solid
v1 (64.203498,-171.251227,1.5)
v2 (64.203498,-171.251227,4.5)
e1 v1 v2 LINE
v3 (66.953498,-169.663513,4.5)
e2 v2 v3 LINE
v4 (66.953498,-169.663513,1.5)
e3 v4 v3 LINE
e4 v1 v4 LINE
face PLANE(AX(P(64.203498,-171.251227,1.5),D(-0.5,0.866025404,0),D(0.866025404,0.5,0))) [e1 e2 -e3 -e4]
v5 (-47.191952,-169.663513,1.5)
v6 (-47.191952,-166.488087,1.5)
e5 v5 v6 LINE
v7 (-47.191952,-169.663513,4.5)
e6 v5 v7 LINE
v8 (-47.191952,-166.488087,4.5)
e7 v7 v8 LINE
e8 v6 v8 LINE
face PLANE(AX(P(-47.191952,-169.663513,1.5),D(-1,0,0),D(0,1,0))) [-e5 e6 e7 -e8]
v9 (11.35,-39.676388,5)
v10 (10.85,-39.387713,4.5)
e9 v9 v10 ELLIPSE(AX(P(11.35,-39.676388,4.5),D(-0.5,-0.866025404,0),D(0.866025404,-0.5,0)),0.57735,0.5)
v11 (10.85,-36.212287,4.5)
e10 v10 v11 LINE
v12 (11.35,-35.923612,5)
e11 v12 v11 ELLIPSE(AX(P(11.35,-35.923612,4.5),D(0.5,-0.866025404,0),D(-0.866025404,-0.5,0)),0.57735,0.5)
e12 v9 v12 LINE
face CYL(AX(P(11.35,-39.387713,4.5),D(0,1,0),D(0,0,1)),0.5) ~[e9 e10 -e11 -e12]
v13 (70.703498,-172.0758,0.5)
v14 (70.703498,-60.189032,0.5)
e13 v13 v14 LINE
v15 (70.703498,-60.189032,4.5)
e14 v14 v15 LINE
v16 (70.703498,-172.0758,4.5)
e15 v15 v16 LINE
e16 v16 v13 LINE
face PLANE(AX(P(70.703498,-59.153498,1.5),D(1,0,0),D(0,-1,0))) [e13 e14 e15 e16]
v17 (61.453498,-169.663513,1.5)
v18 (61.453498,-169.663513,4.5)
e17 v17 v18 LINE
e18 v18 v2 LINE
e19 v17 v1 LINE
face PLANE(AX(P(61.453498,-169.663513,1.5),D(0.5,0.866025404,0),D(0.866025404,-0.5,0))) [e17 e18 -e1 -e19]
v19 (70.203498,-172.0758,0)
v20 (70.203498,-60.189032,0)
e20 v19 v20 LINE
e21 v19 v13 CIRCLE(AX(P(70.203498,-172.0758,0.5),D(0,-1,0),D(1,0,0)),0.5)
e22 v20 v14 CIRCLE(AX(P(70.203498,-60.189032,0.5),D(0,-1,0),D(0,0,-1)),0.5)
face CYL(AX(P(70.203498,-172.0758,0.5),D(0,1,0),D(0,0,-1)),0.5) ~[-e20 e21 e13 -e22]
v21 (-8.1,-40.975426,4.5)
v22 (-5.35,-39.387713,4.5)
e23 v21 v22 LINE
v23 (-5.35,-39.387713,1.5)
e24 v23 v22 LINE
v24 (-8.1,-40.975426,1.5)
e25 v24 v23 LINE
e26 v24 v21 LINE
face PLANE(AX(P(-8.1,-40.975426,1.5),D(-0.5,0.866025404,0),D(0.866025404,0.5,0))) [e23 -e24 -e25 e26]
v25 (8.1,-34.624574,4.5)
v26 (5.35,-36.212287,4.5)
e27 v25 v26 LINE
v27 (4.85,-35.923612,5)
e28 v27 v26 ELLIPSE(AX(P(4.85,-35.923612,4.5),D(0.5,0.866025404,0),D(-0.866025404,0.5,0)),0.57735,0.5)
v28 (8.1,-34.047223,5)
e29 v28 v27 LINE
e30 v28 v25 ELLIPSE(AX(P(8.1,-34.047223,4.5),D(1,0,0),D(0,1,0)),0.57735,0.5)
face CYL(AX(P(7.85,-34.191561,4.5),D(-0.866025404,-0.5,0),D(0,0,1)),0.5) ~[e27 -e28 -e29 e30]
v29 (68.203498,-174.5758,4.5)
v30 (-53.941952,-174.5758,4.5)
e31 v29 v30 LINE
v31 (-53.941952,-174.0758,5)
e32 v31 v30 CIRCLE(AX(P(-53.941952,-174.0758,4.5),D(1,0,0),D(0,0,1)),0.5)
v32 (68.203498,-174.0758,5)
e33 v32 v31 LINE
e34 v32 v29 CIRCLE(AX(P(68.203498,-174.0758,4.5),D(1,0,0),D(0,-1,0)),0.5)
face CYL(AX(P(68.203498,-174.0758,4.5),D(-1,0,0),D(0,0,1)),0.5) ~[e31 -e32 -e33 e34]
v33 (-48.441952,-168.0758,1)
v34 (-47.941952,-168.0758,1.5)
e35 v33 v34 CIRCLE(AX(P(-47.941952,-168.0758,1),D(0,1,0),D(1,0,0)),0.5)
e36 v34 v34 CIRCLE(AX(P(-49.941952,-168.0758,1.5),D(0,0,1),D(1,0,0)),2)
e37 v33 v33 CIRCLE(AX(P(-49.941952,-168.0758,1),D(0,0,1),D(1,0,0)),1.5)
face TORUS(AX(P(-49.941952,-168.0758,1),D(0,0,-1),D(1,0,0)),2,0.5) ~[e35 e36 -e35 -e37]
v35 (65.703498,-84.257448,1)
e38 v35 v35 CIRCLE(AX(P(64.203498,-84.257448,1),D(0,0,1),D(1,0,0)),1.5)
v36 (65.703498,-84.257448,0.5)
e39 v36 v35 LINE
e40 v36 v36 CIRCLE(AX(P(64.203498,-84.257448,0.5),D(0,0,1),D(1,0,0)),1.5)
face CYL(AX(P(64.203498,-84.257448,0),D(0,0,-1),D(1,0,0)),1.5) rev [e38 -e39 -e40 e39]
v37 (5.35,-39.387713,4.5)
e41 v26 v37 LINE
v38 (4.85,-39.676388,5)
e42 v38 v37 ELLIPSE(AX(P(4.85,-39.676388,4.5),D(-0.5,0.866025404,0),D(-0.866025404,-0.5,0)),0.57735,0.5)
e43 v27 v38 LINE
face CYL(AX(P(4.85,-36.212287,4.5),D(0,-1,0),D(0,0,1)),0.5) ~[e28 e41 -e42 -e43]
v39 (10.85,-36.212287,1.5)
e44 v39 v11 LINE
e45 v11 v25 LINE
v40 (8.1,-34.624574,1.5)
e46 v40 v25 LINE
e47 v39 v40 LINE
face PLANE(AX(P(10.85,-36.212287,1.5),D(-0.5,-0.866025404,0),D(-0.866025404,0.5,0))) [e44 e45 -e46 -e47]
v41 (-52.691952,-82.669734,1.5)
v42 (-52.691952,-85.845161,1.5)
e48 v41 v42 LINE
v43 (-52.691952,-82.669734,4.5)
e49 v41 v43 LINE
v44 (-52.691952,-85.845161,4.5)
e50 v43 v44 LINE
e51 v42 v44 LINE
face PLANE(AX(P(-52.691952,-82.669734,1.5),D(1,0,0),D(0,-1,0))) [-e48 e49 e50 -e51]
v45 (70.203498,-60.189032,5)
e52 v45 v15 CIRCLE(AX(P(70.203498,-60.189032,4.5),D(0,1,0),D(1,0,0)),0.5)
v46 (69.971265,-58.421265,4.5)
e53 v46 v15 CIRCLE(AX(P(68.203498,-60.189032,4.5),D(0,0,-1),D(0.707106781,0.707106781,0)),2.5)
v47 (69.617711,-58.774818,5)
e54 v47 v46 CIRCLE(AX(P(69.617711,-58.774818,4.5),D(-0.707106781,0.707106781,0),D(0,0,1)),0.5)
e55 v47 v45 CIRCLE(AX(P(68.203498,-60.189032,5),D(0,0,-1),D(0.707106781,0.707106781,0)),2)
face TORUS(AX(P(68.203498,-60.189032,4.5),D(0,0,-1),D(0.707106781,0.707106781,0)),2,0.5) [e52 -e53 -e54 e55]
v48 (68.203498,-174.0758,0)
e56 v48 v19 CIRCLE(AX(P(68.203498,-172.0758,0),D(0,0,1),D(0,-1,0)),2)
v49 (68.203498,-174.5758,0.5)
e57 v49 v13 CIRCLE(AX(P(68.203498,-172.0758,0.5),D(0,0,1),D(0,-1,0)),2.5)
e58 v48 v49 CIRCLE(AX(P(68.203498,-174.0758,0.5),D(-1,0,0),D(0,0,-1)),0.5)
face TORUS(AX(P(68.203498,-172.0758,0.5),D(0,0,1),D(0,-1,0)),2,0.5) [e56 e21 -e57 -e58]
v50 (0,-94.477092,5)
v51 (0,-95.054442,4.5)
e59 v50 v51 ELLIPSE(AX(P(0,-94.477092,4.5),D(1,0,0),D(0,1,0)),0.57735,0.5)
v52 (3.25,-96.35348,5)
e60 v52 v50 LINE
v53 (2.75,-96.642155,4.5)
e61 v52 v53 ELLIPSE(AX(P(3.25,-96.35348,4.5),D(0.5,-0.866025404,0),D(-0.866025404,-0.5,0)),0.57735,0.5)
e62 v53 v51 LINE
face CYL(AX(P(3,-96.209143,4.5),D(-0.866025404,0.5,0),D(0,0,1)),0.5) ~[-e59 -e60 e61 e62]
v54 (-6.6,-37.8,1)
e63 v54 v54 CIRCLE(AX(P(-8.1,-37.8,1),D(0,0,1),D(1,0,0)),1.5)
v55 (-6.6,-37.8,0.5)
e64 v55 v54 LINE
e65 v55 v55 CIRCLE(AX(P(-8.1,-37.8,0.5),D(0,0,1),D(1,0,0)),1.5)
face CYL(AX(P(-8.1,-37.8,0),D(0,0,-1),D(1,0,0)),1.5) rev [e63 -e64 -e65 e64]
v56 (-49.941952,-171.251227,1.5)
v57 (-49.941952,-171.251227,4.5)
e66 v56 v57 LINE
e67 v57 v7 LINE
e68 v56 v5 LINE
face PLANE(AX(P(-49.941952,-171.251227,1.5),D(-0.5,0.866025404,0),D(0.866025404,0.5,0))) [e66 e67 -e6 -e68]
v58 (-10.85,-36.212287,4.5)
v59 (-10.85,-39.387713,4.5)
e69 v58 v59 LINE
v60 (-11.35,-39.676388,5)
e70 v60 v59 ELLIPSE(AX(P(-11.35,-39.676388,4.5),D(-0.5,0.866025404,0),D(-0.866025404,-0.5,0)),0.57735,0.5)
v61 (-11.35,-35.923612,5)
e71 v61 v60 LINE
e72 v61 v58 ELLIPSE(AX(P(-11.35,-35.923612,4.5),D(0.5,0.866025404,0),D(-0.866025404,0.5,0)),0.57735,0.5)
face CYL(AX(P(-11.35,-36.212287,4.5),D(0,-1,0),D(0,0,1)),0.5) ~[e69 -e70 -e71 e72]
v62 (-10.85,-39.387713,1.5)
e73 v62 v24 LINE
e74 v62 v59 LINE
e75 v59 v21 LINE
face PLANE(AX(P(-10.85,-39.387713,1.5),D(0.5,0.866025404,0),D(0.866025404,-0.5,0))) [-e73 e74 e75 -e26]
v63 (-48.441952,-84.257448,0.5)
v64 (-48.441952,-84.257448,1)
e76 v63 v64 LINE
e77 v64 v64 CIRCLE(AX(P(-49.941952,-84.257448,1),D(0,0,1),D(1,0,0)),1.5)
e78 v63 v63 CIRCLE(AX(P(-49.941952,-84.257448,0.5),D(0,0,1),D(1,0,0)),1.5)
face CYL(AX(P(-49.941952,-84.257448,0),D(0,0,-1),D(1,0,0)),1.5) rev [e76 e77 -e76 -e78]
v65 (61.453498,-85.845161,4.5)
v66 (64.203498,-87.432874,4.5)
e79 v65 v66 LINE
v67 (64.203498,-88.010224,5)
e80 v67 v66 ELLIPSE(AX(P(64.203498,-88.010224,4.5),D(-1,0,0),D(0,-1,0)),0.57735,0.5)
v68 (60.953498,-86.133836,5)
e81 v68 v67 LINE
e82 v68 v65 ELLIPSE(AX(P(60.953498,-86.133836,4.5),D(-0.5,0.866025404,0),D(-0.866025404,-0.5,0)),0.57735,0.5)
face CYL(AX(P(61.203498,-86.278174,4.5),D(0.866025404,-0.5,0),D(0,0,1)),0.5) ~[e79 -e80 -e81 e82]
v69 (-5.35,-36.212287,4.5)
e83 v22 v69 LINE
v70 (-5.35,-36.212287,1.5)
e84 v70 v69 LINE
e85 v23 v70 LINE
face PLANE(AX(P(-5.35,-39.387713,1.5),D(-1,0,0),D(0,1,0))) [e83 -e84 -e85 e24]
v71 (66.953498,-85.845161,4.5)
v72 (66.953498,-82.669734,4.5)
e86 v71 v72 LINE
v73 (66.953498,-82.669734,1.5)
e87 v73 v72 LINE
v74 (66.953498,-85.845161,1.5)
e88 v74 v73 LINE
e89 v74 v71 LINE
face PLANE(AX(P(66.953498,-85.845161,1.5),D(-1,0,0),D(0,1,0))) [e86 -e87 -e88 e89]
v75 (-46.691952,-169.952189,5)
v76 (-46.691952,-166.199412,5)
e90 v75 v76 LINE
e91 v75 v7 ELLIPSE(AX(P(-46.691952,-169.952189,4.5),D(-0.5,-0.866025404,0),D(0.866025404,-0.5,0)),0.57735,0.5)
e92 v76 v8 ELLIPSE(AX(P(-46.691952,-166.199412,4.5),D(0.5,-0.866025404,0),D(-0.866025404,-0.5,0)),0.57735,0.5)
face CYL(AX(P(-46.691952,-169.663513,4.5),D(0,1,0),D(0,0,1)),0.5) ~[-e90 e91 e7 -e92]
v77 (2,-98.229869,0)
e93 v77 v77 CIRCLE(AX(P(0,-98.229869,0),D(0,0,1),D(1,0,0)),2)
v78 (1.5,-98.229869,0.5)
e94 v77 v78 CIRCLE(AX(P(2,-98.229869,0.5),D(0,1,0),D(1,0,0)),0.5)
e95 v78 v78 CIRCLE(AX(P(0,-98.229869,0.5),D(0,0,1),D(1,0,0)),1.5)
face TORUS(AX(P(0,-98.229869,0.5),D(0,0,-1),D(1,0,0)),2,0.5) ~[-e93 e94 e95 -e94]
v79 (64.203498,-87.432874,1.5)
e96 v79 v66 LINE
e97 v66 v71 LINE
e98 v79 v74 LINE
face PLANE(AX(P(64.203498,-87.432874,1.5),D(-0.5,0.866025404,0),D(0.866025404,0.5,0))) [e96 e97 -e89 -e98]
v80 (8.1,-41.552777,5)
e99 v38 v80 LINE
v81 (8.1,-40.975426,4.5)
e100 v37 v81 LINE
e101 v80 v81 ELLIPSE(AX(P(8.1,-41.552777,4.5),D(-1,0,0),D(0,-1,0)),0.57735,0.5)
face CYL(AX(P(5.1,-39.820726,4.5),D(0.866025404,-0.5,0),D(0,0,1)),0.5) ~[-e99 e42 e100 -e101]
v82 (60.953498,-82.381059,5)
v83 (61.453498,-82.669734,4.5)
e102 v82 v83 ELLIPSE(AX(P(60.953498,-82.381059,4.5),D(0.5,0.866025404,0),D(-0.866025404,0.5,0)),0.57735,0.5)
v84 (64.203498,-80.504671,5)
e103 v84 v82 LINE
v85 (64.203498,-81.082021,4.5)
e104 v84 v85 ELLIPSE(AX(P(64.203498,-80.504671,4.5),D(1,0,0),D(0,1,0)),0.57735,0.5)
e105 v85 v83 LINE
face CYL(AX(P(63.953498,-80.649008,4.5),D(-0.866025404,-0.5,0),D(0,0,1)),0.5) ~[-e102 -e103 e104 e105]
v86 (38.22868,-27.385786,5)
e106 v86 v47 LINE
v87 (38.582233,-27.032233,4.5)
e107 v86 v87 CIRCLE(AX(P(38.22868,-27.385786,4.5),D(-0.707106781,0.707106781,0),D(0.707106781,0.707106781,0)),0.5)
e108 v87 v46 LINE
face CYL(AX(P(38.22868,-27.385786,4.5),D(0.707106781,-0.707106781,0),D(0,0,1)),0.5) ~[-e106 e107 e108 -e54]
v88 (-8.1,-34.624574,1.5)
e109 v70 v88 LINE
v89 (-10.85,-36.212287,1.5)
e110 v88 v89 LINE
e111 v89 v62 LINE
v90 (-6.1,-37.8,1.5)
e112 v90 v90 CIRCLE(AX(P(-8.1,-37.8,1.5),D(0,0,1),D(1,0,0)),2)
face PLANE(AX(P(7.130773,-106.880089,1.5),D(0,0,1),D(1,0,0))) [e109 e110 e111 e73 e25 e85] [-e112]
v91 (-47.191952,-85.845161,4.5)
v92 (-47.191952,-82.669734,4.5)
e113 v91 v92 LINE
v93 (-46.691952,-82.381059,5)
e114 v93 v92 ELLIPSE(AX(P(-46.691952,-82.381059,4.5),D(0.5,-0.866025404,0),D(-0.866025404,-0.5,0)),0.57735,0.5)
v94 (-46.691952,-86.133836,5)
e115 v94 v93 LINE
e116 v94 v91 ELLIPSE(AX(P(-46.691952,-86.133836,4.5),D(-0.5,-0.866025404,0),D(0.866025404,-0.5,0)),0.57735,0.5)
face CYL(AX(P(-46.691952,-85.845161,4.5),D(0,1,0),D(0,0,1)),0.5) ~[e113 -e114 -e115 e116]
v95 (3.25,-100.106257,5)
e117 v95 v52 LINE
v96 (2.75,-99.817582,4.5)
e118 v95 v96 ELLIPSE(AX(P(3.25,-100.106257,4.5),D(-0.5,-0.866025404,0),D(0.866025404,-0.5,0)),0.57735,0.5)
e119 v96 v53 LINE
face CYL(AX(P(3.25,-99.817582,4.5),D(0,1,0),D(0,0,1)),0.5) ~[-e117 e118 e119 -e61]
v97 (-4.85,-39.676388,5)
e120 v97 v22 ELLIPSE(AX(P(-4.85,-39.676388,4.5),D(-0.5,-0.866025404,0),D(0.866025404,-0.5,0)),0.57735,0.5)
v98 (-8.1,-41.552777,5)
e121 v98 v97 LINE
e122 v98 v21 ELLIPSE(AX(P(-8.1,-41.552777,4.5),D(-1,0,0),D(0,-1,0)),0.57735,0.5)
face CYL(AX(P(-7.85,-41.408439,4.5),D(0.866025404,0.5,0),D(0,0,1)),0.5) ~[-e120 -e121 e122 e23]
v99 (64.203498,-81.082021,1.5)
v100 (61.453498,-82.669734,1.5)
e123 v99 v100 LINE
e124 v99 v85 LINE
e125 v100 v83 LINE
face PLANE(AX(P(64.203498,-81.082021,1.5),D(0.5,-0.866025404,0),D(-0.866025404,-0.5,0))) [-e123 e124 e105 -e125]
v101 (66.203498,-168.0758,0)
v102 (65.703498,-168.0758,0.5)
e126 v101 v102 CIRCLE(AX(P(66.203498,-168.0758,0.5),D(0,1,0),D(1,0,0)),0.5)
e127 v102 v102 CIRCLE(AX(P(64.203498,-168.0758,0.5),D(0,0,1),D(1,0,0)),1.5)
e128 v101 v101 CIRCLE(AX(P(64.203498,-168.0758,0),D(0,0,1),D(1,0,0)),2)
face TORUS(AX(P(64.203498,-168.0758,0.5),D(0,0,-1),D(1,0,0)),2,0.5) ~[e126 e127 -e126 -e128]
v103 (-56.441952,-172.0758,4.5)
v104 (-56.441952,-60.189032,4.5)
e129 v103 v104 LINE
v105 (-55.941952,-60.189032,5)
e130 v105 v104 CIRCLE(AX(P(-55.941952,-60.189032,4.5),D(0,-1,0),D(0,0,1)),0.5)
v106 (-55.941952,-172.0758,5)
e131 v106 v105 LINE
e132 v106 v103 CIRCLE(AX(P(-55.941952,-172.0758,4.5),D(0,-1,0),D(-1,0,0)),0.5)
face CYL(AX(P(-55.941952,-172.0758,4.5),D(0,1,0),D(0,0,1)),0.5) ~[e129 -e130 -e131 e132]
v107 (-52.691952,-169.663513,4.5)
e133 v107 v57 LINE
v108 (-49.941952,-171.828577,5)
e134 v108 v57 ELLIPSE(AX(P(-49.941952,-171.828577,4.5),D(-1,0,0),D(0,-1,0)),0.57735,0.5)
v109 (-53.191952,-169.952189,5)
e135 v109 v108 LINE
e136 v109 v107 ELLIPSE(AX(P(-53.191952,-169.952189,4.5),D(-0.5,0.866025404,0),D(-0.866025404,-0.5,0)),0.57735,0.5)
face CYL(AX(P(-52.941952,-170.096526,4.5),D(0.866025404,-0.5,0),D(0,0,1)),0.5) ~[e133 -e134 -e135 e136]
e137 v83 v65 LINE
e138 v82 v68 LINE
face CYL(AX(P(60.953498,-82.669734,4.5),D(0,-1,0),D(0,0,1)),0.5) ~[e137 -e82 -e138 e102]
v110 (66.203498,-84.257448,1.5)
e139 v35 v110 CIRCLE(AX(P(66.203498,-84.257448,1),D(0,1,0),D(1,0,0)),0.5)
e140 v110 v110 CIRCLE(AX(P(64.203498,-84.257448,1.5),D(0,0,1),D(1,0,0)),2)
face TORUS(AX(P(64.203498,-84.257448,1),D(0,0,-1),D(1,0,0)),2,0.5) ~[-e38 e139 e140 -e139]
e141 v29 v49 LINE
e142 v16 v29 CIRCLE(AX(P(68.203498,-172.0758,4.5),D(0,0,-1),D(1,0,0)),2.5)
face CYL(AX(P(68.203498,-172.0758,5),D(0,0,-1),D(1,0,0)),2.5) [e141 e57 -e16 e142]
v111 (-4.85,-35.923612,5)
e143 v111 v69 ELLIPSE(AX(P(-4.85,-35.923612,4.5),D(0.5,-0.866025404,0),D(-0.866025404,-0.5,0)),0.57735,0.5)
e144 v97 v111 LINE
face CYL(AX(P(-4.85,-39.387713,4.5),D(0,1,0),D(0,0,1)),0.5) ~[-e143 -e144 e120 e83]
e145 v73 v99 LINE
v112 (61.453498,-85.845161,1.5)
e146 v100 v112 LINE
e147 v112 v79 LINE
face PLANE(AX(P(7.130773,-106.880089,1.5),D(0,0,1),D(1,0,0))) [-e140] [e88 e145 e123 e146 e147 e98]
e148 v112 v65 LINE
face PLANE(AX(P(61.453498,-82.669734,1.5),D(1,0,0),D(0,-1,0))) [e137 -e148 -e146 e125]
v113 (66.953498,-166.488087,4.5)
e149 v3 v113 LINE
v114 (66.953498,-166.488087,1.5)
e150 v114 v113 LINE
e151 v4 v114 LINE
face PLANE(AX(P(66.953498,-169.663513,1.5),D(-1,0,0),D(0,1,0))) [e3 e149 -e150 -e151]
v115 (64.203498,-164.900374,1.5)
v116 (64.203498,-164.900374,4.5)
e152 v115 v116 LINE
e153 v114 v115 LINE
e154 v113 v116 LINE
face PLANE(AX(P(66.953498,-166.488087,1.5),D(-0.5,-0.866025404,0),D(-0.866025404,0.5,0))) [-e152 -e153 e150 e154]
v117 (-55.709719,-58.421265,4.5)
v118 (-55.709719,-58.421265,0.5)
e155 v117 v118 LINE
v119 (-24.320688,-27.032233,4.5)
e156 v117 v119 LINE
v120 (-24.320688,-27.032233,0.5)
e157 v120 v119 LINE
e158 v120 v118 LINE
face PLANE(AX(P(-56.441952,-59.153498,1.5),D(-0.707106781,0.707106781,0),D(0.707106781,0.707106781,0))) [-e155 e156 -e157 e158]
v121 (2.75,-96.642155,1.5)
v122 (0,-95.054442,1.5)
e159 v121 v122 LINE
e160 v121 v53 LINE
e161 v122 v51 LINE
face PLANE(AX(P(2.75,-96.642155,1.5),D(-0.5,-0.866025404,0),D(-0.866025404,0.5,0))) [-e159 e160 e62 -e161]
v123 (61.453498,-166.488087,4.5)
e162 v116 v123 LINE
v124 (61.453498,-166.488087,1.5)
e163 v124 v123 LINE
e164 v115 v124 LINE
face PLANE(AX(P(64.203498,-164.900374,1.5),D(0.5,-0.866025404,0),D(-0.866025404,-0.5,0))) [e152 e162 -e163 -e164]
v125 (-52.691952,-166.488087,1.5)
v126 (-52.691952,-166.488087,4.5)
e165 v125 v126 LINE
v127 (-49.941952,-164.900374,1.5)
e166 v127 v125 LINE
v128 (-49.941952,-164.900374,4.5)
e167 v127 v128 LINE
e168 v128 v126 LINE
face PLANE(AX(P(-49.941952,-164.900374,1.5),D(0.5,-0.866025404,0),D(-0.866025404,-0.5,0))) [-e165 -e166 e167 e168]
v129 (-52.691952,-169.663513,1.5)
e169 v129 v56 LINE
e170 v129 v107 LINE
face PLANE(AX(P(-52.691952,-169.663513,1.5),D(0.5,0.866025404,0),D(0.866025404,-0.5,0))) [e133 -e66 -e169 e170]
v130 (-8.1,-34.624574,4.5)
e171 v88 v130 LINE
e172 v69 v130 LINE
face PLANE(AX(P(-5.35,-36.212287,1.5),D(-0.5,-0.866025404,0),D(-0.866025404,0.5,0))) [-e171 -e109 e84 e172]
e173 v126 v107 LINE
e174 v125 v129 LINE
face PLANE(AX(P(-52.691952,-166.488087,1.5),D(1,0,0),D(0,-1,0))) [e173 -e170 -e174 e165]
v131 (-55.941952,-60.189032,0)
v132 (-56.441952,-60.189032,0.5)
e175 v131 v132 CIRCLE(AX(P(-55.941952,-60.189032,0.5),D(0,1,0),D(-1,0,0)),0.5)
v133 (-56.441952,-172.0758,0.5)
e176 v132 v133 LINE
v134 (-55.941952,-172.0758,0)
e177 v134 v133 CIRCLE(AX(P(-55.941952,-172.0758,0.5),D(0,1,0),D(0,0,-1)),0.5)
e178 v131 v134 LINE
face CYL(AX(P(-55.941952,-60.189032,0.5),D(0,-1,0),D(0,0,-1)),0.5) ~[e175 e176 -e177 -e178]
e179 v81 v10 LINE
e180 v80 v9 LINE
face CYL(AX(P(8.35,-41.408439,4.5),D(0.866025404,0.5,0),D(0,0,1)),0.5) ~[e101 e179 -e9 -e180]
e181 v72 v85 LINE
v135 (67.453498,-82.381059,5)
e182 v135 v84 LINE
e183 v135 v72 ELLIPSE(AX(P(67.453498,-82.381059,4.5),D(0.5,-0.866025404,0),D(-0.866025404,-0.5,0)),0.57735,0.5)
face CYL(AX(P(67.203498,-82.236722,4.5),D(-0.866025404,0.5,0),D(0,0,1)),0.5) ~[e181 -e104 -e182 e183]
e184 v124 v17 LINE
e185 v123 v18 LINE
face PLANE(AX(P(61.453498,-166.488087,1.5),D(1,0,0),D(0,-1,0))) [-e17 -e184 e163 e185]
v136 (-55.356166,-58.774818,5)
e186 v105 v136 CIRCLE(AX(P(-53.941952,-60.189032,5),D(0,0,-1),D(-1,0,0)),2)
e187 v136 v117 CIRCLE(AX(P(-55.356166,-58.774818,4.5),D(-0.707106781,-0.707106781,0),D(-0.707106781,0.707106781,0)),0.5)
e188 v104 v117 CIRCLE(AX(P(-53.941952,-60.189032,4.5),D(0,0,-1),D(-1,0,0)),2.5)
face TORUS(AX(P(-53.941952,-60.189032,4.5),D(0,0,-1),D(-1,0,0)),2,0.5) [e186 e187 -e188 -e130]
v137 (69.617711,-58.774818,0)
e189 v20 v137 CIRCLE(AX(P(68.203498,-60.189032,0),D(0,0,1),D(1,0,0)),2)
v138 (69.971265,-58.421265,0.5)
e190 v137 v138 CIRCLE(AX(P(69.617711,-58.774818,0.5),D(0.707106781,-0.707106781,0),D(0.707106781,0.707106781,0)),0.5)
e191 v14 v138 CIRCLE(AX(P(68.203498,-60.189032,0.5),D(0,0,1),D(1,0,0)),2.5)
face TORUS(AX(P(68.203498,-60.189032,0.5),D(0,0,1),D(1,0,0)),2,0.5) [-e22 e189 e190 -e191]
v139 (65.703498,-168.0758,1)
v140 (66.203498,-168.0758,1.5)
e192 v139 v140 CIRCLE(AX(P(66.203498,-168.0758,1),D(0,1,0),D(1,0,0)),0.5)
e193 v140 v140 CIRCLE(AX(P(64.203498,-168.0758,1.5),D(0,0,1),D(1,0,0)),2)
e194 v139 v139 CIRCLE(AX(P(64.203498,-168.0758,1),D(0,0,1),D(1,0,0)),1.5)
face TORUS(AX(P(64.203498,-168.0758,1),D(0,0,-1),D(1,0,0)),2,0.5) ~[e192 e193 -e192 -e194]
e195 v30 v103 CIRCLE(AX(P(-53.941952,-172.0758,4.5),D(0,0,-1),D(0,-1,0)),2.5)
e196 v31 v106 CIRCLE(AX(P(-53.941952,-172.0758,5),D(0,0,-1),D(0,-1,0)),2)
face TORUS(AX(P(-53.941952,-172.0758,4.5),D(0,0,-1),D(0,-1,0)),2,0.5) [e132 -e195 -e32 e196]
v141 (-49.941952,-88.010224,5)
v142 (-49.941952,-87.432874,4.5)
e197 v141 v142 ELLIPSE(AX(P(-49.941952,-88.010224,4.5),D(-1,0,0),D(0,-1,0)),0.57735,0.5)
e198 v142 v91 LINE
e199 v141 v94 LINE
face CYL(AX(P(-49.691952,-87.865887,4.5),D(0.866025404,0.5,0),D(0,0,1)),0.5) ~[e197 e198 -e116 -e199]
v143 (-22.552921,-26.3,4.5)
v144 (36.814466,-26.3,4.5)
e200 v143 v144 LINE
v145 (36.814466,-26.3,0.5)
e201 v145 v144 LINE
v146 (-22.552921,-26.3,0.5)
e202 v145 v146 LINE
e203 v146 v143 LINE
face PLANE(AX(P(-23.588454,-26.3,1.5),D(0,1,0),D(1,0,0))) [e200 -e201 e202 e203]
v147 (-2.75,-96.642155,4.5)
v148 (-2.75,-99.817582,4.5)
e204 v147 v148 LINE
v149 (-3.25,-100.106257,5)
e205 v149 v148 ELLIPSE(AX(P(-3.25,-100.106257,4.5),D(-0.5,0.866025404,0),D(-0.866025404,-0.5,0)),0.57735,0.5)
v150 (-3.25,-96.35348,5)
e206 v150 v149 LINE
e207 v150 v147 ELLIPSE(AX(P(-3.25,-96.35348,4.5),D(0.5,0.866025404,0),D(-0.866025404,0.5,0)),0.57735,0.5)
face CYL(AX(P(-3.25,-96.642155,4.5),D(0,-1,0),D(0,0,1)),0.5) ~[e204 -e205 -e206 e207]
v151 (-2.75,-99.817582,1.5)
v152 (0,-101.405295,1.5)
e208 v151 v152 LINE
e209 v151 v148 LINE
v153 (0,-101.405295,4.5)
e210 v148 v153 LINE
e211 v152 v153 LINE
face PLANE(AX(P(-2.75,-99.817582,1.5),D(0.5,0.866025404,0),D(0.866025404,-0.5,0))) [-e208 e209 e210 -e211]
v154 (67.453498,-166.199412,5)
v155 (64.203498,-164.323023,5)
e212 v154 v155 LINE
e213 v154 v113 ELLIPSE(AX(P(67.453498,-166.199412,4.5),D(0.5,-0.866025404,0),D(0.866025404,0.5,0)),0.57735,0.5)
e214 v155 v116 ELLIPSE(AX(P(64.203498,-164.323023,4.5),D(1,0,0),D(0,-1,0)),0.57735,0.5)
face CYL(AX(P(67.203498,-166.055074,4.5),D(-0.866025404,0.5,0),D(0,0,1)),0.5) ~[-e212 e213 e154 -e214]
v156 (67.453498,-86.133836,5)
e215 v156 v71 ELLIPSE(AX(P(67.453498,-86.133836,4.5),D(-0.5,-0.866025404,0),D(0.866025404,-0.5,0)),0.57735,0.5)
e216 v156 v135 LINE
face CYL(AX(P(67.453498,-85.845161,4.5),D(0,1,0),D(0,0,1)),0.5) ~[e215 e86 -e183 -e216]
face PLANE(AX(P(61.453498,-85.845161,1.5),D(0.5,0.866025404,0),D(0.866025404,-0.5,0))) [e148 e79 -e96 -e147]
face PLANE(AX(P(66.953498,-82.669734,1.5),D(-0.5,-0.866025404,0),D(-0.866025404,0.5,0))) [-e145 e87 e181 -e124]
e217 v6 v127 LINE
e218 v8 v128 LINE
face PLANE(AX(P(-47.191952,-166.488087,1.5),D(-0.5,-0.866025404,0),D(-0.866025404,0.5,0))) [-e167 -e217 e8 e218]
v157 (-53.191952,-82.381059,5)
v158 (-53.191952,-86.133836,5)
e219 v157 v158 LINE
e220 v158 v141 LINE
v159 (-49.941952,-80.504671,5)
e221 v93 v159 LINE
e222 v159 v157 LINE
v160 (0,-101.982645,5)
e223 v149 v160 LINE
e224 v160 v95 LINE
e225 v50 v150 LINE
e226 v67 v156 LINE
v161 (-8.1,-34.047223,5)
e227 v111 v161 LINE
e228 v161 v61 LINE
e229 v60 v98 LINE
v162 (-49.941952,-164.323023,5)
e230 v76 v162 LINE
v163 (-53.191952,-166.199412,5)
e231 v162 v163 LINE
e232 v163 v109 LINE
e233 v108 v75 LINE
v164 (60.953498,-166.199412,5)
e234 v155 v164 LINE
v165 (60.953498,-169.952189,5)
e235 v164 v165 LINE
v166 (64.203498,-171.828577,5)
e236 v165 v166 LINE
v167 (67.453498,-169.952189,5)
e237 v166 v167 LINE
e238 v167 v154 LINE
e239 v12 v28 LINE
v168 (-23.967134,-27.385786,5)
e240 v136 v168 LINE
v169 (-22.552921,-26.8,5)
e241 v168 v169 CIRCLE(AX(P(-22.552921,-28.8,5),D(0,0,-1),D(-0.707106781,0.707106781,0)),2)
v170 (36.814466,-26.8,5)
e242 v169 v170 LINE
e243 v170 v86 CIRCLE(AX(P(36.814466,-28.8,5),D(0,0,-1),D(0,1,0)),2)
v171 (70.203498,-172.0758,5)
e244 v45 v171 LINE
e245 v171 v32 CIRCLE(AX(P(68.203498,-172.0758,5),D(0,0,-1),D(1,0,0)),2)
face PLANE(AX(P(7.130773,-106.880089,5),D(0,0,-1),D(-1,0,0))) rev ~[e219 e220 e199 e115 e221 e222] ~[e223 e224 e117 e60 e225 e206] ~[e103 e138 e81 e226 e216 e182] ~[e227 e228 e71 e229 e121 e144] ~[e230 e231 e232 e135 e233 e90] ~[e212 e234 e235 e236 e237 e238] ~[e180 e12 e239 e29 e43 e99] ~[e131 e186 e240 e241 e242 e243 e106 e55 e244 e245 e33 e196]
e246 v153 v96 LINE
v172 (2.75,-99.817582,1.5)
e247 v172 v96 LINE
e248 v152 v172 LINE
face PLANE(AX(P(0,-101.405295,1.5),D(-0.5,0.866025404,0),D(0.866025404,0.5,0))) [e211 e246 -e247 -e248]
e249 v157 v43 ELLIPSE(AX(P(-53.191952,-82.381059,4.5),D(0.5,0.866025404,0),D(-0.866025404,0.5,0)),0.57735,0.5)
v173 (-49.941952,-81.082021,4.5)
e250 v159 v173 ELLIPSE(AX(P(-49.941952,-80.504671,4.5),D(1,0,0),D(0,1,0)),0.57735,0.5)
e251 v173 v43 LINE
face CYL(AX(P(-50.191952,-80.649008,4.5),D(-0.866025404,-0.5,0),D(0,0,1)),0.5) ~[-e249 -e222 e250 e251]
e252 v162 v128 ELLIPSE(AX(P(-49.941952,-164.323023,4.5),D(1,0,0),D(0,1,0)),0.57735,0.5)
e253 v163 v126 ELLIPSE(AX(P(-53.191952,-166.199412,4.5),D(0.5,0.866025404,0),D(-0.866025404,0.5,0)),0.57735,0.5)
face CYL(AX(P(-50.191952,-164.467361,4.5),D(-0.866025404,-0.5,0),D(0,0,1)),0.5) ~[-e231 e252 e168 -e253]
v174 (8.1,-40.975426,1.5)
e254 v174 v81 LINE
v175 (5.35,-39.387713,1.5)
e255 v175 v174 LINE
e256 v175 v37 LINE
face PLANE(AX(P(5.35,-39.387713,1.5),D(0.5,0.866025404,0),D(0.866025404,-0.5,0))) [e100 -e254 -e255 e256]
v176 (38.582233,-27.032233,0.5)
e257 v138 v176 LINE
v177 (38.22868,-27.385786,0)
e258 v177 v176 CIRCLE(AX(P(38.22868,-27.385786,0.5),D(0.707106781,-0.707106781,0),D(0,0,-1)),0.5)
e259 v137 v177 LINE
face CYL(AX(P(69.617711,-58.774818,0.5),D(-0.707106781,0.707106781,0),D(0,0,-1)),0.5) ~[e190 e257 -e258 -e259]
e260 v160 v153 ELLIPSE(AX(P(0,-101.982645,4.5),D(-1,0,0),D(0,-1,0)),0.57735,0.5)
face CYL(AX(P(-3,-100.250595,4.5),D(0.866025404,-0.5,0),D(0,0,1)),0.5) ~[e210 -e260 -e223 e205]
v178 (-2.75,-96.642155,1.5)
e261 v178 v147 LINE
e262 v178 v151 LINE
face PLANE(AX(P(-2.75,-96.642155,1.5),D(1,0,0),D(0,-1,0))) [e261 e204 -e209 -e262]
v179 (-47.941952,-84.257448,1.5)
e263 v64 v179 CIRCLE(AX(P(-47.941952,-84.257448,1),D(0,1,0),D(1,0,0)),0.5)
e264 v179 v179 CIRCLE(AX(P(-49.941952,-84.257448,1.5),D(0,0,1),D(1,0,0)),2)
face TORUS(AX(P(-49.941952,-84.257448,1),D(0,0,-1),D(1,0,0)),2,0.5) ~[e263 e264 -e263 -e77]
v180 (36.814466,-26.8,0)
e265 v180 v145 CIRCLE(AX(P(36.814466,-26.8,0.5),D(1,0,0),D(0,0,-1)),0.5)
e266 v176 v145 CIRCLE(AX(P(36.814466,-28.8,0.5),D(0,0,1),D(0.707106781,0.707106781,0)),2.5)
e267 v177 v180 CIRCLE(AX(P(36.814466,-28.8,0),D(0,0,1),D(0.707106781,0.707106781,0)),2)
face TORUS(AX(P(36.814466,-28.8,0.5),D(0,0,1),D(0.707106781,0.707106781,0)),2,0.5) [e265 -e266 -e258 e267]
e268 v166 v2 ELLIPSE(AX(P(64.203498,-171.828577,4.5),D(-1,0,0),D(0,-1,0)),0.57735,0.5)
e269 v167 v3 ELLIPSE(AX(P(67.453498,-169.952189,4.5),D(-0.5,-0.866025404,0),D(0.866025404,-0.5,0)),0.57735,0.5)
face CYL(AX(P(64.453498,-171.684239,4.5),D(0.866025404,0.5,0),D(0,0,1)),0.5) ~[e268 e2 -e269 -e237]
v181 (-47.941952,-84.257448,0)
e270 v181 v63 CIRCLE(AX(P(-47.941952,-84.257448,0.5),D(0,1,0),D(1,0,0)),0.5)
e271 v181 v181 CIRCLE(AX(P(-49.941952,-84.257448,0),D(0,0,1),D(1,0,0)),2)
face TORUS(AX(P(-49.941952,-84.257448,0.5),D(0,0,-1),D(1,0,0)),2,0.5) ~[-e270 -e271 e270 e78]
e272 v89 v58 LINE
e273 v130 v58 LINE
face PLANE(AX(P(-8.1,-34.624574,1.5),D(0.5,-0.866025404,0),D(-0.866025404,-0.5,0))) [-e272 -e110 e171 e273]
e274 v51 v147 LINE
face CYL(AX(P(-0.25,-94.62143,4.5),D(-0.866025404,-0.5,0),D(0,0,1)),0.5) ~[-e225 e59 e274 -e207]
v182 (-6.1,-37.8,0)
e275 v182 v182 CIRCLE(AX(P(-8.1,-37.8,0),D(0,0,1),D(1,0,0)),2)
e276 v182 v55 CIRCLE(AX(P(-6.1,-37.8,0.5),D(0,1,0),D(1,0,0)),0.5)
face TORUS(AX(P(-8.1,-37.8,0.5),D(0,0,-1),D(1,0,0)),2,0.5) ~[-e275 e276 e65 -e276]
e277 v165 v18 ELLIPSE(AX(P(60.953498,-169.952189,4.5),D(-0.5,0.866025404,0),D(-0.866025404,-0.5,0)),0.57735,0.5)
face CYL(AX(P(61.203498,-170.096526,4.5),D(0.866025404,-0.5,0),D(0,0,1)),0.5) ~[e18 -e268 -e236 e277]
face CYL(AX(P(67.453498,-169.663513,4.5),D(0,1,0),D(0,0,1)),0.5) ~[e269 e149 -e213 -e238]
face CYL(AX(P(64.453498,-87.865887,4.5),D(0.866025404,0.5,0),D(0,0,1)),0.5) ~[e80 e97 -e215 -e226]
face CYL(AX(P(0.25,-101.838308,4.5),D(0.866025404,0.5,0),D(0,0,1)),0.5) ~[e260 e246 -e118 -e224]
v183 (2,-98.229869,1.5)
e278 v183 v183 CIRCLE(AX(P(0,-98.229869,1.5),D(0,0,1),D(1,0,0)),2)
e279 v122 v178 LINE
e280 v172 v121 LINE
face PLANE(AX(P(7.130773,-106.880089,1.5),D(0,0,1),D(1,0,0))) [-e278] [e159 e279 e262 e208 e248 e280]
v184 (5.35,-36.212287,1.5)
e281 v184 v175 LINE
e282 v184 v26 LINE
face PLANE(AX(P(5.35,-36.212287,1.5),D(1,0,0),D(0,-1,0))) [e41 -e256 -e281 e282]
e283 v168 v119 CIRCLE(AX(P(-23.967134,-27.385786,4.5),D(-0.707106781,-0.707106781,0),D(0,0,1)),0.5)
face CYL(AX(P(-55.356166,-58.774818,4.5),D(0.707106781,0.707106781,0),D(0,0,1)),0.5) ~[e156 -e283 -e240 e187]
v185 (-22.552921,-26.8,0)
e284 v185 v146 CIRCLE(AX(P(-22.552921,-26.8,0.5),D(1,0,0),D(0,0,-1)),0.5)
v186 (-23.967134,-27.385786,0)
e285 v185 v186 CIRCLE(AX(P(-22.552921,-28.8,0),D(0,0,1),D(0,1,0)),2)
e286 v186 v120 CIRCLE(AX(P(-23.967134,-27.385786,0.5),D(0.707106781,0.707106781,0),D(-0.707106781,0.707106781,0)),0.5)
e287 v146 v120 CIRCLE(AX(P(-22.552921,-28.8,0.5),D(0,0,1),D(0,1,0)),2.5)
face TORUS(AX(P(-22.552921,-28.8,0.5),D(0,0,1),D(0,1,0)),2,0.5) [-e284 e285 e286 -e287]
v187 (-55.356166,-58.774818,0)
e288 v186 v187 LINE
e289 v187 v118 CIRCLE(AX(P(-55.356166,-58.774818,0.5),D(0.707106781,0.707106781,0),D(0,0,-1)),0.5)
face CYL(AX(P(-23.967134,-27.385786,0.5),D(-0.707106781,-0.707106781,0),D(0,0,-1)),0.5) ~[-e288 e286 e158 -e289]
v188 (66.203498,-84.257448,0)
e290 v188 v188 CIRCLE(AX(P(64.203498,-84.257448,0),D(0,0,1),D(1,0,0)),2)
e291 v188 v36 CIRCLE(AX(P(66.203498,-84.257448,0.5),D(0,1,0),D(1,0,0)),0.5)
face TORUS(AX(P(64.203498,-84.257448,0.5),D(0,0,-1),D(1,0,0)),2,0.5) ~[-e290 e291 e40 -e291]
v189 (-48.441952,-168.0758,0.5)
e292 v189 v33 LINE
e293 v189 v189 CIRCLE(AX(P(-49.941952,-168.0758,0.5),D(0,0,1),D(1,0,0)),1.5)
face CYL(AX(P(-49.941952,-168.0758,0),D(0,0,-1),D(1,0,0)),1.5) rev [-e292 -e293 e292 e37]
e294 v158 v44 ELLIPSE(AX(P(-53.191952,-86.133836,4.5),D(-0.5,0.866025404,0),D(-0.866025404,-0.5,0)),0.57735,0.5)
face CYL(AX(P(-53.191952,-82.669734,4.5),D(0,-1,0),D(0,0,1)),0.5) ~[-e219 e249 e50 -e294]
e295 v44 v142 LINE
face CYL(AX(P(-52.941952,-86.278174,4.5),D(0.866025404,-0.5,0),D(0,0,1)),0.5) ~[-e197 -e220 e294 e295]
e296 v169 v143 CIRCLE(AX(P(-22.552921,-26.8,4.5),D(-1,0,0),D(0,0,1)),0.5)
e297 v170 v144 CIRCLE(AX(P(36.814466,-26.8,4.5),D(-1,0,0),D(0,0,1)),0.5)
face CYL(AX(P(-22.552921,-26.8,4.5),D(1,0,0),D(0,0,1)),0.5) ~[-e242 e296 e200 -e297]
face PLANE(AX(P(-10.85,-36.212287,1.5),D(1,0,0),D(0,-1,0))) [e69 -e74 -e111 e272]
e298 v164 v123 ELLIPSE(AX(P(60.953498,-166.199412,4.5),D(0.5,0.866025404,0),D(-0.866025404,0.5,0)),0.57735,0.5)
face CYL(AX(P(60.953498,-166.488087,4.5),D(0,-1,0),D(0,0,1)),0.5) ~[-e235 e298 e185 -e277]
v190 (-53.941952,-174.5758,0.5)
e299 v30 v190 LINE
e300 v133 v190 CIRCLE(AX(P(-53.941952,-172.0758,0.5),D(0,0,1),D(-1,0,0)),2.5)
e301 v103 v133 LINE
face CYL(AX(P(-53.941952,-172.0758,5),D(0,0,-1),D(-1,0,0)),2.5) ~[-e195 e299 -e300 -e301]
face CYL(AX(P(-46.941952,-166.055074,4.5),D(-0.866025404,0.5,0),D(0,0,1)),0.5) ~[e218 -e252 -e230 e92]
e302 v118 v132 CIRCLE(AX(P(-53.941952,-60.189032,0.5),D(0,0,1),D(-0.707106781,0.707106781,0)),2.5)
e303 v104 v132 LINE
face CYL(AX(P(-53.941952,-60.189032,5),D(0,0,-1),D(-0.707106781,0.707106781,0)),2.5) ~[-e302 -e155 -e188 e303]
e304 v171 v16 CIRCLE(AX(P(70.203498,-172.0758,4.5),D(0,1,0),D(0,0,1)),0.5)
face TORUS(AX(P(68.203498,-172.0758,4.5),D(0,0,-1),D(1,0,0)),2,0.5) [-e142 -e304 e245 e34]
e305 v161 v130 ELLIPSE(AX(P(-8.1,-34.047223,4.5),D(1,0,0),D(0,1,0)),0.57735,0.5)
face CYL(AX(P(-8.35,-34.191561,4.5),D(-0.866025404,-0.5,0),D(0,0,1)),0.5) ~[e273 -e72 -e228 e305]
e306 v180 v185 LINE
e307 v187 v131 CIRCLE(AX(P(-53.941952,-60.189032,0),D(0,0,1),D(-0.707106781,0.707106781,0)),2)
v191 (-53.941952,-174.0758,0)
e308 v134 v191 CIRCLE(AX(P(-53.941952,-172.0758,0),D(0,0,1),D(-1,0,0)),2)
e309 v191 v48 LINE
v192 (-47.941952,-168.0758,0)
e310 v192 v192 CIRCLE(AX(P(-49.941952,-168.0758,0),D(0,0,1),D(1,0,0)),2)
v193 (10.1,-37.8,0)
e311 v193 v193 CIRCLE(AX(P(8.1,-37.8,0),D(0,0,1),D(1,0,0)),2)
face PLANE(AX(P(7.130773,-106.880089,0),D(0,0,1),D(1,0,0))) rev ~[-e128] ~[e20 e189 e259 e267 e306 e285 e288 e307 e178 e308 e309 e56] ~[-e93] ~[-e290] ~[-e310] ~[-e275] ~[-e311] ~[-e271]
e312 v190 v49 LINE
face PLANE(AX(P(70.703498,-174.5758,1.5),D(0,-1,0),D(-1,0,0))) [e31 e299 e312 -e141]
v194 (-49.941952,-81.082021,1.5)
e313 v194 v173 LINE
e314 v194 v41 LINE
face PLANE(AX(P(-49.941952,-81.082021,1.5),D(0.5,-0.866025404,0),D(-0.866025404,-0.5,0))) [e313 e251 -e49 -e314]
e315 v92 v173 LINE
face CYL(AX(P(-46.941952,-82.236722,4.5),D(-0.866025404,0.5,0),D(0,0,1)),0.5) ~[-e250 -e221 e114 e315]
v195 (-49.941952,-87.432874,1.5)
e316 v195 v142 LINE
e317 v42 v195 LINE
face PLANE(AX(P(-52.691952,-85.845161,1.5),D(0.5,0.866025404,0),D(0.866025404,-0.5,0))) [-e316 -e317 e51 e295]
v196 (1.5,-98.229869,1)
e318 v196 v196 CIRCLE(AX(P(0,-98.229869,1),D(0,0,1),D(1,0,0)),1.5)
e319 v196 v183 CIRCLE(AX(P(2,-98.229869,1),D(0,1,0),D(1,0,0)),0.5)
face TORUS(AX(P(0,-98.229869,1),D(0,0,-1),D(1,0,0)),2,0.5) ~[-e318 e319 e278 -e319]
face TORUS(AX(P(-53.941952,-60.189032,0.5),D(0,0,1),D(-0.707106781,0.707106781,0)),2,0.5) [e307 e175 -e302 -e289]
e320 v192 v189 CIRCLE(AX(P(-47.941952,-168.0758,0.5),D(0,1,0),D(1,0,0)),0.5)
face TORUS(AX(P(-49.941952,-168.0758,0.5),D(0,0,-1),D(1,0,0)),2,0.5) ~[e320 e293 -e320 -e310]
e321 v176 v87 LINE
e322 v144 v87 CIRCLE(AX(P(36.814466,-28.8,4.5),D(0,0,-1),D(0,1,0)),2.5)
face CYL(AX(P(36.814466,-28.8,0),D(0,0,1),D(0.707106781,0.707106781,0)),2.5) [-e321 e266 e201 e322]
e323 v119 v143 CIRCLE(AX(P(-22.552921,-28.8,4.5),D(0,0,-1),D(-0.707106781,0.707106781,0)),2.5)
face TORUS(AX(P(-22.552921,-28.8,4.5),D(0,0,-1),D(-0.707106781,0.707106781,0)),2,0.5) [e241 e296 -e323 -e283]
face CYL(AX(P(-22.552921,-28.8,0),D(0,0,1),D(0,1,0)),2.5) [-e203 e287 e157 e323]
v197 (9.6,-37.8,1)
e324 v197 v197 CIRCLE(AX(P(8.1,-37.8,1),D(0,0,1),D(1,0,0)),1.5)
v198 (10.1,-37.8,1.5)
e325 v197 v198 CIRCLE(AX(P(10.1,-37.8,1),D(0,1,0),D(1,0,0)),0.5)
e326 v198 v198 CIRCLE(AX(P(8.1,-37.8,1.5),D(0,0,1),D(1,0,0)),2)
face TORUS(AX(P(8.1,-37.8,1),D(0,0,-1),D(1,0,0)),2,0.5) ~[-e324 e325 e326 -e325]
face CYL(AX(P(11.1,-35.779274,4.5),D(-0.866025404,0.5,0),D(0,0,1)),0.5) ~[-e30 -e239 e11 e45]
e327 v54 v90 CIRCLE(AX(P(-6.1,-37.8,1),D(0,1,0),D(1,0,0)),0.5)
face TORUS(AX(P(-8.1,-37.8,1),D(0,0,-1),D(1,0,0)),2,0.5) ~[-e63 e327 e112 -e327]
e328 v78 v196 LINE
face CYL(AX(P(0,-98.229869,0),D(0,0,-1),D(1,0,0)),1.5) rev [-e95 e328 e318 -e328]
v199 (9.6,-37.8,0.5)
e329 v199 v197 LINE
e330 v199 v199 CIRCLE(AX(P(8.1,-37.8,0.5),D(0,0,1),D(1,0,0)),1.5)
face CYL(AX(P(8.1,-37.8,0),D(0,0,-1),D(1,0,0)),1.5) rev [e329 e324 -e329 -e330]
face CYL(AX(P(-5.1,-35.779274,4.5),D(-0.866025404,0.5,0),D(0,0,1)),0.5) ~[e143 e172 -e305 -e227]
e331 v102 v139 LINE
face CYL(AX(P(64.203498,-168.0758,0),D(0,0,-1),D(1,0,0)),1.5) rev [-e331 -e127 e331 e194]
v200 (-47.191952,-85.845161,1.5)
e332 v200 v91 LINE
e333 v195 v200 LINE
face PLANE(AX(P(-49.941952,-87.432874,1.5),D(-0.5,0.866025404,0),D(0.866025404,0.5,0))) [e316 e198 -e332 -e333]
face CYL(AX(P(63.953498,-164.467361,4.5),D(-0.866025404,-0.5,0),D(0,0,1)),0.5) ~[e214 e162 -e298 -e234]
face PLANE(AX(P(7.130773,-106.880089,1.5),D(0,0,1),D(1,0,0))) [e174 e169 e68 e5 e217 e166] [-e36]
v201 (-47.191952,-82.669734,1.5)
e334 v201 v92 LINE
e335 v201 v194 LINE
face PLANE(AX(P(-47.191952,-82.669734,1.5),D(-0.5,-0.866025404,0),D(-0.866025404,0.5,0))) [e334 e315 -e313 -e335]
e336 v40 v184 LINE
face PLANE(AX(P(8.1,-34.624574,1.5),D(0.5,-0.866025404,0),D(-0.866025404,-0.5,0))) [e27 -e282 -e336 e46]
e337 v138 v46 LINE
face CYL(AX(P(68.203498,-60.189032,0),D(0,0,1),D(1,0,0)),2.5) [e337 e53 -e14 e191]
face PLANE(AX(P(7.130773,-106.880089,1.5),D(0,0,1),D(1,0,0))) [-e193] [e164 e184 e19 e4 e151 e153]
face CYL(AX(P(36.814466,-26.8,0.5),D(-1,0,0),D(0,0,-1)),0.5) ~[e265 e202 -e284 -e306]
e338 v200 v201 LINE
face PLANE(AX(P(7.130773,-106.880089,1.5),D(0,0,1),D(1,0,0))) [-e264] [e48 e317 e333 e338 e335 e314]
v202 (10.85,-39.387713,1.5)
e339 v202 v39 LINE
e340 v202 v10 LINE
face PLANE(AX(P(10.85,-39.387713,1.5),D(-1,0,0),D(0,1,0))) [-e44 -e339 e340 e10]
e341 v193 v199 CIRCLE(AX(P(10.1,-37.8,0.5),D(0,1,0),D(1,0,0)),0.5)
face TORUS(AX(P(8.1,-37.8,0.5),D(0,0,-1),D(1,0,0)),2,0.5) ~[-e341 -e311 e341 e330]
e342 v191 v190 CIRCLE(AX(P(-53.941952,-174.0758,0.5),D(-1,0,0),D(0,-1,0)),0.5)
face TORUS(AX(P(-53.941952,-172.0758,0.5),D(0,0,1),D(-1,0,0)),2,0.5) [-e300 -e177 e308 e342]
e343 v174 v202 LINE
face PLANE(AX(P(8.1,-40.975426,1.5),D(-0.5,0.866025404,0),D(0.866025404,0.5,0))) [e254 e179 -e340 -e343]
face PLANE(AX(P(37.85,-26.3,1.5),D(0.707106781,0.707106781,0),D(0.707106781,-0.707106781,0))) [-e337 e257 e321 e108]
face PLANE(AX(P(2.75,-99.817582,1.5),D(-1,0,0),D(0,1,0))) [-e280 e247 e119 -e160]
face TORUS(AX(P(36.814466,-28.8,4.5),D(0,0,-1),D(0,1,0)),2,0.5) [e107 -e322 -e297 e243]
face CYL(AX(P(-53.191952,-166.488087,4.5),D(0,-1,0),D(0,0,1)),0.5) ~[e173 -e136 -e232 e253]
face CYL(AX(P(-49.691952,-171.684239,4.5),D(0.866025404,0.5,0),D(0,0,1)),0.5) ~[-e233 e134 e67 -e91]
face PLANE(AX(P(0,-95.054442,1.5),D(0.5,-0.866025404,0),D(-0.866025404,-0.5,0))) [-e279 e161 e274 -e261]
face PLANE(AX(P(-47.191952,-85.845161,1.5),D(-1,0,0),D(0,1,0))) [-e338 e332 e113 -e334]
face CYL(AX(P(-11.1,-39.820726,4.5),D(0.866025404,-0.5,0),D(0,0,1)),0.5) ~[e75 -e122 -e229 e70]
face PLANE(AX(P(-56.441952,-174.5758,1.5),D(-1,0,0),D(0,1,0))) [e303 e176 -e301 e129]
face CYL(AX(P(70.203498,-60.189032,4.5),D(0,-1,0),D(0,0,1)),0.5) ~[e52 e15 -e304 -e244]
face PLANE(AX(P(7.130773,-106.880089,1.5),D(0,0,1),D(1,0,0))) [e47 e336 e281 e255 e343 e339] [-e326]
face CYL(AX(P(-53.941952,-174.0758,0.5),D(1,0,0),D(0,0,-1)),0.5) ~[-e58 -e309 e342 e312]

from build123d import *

# Parameters (mm, degrees)
SKETCH1_R           = 1.5
BOSS_EXTRUDE1_DEPTH = 1.5
BOSS_EXTRUDE2_DEPTH = 3.5
FILLET1_R           = 2.5
FILLET2_R           = 0.5


with BuildPart() as part:
    # Sketch1 → Boss-Extrude1 (new body)
    with BuildSketch(Plane.XY):
        Polygon((-56.441952318, -174.575800145), (70.703497827, -174.575800145), (70.703497827, -59.153497827), (37.85, -26.3), (-23.588454491, -26.3), (-56.441952318, -59.153497827), align=None)
        with Locations((-49.941952318, -168.075800145)):
            Circle(SKETCH1_R, mode=Mode.SUBTRACT)
        with Locations((64.203497827, -168.075800145)):
            Circle(SKETCH1_R, mode=Mode.SUBTRACT)
        with Locations((-49.941952318, -84.2574476)):
            Circle(SKETCH1_R, mode=Mode.SUBTRACT)
        with Locations((64.203497827, -84.2574476)):
            Circle(SKETCH1_R, mode=Mode.SUBTRACT)
        with Locations((0, -98.229868737)):
            Circle(SKETCH1_R, mode=Mode.SUBTRACT)
        with Locations((8.1, -37.8)):
            Circle(SKETCH1_R, mode=Mode.SUBTRACT)
        with Locations((-8.1, -37.8)):
            Circle(SKETCH1_R, mode=Mode.SUBTRACT)
    extrude(amount=BOSS_EXTRUDE1_DEPTH)

    # Sketch2 → Boss-Extrude2 (add)
    with BuildSketch(Plane.XY.offset(1.5)):
        Polygon((70.703497827, -59.153497827), (70.703497827, -174.575800145), (-56.441952318, -174.575800145), (-56.441952318, -59.153497827), (-23.588454491, -26.3), (37.85, -26.3), align=None)
        Polygon((8.1, -34.624573519), (5.35, -36.21228676), (5.35, -39.38771324), (8.1, -40.975426481), (10.85, -39.38771324), (10.85, -36.21228676), align=None, mode=Mode.SUBTRACT)
        Polygon((-8.1, -34.624573519), (-10.85, -36.21228676), (-10.85, -39.38771324), (-8.1, -40.975426481), (-5.35, -39.38771324), (-5.35, -36.21228676), align=None, mode=Mode.SUBTRACT)
        Polygon((64.203497827, -81.082021119), (61.453497827, -82.669734359), (61.453497827, -85.84516084), (64.203497827, -87.43287408), (66.953497827, -85.84516084), (66.953497827, -82.669734359), align=None, mode=Mode.SUBTRACT)
        Polygon((0, -95.054442256), (-2.75, -96.642155496), (-2.75, -99.817581977), (0, -101.405295217), (2.75, -99.817581977), (2.75, -96.642155496), align=None, mode=Mode.SUBTRACT)
        Polygon((-49.941952318, -81.082021119), (-52.691952318, -82.669734359), (-52.691952318, -85.84516084), (-49.941952318, -87.43287408), (-47.191952318, -85.84516084), (-47.191952318, -82.669734359), align=None, mode=Mode.SUBTRACT)
        Polygon((-49.941952318, -164.900373665), (-52.691952318, -166.488086905), (-52.691952318, -169.663513386), (-49.941952318, -171.251226626), (-47.191952318, -169.663513386), (-47.191952318, -166.488086905), align=None, mode=Mode.SUBTRACT)
        Polygon((64.203497827, -164.900373665), (61.453497827, -166.488086905), (61.453497827, -169.663513386), (64.203497827, -171.251226626), (66.953497827, -169.663513386), (66.953497827, -166.488086905), align=None, mode=Mode.SUBTRACT)
    extrude(amount=BOSS_EXTRUDE2_DEPTH)

    # Fillet1
    fillet1_edges = [part.edges().sort_by_distance(p)[0] for p in [
        (-56.441952318, -59.153497827, 2.5),
        (-23.588454491, -26.3, 2.5),
        (37.85, -26.3, 2.5),
        (70.703497827, -59.153497827, 2.5),
        (70.703497827, -174.575800145, 2.5),
        (-56.441952318, -174.575800145, 2.5),
    ]]
    fillet(fillet1_edges, radius=FILLET1_R)

    # Fillet2
    fillet2_edges = [part.edges().sort_by_distance(p)[0] for p in [
        (62.828497827, -165.694230285, 5),
        (61.453497827, -168.075800145, 5),
        (62.828497827, -170.457370006, 5),
        (65.578497827, -170.457370006, 5),
        (66.953497827, -168.075800145, 5),
        (-51.441952318, -168.075800145, 0),
        (-51.441952318, -168.075800145, 1.5),
        (7.130772754, -26.3, 0),
        (7.130772754, -26.3, 5),
        (-56.441952318, -116.132415939, 0),
        (-40.015203404, -42.726748913, 0),
        (54.276748913, -42.726748913, 0),
        (70.703497827, -116.132415939, 0),
        (7.130772754, -174.575800145, 0),
        (69.97126478, -173.843567098, 0),
        (70.513196658, -59.232323152, 0),
        (-55.709719271, -173.843567098, 0),
        (-56.251651149, -59.232323152, 0),
        (-23.509629166, -26.490301169, 0),
        (37.771174675, -26.490301169, 0),
        (54.276748913, -42.726748913, 5),
        (-40.015203404, -42.726748913, 5),
        (-56.441952318, -116.132415939, 5),
        (7.130772754, -174.575800145, 5),
        (70.703497827, -116.132415939, 5),
        (69.97126478, -173.843567098, 5),
        (70.513196658, -59.232323152, 5),
        (-55.709719271, -173.843567098, 5),
        (-56.251651149, -59.232323152, 5),
        (-23.509629166, -26.490301169, 5),
        (37.771174675, -26.490301169, 5),
        (62.703497827, -168.075800145, 0),
        (62.703497827, -168.075800145, 1.5),
        (-51.441952318, -84.2574476, 0),
        (-51.441952318, -84.2574476, 1.5),
        (62.703497827, -84.2574476, 0),
        (62.703497827, -84.2574476, 1.5),
        (-1.5, -98.229868737, 0),
        (-1.5, -98.229868737, 1.5),
        (6.6, -37.8, 0),
        (6.6, -37.8, 1.5),
        (-9.6, -37.8, 0),
        (-9.6, -37.8, 1.5),
        (9.475, -35.41843014, 5),
        (6.725, -35.41843014, 5),
        (5.35, -37.8, 5),
        (6.725, -40.18156986, 5),
        (9.475, -40.18156986, 5),
        (10.85, -37.8, 5),
        (-6.725, -35.41843014, 5),
        (-9.475, -35.41843014, 5),
        (-10.85, -37.8, 5),
        (-9.475, -40.18156986, 5),
        (-6.725, -40.18156986, 5),
        (-5.35, -37.8, 5),
        (65.578497827, -81.875877739, 5),
        (62.828497827, -81.875877739, 5),
        (61.453497827, -84.2574476, 5),
        (62.828497827, -86.63901746, 5),
        (65.578497827, -86.63901746, 5),
        (66.953497827, -84.2574476, 5),
        (1.375, -95.848298876, 5),
        (-1.375, -95.848298876, 5),
        (-2.75, -98.229868737, 5),
        (-1.375, -100.611438597, 5),
        (1.375, -100.611438597, 5),
        (2.75, -98.229868737, 5),
        (-48.566952318, -81.875877739, 5),
        (-51.316952318, -81.875877739, 5),
        (-52.691952318, -84.2574476, 5),
        (-51.316952318, -86.63901746, 5),
        (-48.566952318, -86.63901746, 5),
        (-47.191952318, -84.2574476, 5),
        (-48.566952318, -165.694230285, 5),
        (-51.316952318, -165.694230285, 5),
        (-52.691952318, -168.075800145, 5),
        (-51.316952318, -170.457370006, 5),
        (-48.566952318, -170.457370006, 5),
        (-47.191952318, -168.075800145, 5),
        (65.578497827, -165.694230285, 5),
    ]]
    fillet(fillet2_edges, radius=FILLET2_R)


solid = part.part
